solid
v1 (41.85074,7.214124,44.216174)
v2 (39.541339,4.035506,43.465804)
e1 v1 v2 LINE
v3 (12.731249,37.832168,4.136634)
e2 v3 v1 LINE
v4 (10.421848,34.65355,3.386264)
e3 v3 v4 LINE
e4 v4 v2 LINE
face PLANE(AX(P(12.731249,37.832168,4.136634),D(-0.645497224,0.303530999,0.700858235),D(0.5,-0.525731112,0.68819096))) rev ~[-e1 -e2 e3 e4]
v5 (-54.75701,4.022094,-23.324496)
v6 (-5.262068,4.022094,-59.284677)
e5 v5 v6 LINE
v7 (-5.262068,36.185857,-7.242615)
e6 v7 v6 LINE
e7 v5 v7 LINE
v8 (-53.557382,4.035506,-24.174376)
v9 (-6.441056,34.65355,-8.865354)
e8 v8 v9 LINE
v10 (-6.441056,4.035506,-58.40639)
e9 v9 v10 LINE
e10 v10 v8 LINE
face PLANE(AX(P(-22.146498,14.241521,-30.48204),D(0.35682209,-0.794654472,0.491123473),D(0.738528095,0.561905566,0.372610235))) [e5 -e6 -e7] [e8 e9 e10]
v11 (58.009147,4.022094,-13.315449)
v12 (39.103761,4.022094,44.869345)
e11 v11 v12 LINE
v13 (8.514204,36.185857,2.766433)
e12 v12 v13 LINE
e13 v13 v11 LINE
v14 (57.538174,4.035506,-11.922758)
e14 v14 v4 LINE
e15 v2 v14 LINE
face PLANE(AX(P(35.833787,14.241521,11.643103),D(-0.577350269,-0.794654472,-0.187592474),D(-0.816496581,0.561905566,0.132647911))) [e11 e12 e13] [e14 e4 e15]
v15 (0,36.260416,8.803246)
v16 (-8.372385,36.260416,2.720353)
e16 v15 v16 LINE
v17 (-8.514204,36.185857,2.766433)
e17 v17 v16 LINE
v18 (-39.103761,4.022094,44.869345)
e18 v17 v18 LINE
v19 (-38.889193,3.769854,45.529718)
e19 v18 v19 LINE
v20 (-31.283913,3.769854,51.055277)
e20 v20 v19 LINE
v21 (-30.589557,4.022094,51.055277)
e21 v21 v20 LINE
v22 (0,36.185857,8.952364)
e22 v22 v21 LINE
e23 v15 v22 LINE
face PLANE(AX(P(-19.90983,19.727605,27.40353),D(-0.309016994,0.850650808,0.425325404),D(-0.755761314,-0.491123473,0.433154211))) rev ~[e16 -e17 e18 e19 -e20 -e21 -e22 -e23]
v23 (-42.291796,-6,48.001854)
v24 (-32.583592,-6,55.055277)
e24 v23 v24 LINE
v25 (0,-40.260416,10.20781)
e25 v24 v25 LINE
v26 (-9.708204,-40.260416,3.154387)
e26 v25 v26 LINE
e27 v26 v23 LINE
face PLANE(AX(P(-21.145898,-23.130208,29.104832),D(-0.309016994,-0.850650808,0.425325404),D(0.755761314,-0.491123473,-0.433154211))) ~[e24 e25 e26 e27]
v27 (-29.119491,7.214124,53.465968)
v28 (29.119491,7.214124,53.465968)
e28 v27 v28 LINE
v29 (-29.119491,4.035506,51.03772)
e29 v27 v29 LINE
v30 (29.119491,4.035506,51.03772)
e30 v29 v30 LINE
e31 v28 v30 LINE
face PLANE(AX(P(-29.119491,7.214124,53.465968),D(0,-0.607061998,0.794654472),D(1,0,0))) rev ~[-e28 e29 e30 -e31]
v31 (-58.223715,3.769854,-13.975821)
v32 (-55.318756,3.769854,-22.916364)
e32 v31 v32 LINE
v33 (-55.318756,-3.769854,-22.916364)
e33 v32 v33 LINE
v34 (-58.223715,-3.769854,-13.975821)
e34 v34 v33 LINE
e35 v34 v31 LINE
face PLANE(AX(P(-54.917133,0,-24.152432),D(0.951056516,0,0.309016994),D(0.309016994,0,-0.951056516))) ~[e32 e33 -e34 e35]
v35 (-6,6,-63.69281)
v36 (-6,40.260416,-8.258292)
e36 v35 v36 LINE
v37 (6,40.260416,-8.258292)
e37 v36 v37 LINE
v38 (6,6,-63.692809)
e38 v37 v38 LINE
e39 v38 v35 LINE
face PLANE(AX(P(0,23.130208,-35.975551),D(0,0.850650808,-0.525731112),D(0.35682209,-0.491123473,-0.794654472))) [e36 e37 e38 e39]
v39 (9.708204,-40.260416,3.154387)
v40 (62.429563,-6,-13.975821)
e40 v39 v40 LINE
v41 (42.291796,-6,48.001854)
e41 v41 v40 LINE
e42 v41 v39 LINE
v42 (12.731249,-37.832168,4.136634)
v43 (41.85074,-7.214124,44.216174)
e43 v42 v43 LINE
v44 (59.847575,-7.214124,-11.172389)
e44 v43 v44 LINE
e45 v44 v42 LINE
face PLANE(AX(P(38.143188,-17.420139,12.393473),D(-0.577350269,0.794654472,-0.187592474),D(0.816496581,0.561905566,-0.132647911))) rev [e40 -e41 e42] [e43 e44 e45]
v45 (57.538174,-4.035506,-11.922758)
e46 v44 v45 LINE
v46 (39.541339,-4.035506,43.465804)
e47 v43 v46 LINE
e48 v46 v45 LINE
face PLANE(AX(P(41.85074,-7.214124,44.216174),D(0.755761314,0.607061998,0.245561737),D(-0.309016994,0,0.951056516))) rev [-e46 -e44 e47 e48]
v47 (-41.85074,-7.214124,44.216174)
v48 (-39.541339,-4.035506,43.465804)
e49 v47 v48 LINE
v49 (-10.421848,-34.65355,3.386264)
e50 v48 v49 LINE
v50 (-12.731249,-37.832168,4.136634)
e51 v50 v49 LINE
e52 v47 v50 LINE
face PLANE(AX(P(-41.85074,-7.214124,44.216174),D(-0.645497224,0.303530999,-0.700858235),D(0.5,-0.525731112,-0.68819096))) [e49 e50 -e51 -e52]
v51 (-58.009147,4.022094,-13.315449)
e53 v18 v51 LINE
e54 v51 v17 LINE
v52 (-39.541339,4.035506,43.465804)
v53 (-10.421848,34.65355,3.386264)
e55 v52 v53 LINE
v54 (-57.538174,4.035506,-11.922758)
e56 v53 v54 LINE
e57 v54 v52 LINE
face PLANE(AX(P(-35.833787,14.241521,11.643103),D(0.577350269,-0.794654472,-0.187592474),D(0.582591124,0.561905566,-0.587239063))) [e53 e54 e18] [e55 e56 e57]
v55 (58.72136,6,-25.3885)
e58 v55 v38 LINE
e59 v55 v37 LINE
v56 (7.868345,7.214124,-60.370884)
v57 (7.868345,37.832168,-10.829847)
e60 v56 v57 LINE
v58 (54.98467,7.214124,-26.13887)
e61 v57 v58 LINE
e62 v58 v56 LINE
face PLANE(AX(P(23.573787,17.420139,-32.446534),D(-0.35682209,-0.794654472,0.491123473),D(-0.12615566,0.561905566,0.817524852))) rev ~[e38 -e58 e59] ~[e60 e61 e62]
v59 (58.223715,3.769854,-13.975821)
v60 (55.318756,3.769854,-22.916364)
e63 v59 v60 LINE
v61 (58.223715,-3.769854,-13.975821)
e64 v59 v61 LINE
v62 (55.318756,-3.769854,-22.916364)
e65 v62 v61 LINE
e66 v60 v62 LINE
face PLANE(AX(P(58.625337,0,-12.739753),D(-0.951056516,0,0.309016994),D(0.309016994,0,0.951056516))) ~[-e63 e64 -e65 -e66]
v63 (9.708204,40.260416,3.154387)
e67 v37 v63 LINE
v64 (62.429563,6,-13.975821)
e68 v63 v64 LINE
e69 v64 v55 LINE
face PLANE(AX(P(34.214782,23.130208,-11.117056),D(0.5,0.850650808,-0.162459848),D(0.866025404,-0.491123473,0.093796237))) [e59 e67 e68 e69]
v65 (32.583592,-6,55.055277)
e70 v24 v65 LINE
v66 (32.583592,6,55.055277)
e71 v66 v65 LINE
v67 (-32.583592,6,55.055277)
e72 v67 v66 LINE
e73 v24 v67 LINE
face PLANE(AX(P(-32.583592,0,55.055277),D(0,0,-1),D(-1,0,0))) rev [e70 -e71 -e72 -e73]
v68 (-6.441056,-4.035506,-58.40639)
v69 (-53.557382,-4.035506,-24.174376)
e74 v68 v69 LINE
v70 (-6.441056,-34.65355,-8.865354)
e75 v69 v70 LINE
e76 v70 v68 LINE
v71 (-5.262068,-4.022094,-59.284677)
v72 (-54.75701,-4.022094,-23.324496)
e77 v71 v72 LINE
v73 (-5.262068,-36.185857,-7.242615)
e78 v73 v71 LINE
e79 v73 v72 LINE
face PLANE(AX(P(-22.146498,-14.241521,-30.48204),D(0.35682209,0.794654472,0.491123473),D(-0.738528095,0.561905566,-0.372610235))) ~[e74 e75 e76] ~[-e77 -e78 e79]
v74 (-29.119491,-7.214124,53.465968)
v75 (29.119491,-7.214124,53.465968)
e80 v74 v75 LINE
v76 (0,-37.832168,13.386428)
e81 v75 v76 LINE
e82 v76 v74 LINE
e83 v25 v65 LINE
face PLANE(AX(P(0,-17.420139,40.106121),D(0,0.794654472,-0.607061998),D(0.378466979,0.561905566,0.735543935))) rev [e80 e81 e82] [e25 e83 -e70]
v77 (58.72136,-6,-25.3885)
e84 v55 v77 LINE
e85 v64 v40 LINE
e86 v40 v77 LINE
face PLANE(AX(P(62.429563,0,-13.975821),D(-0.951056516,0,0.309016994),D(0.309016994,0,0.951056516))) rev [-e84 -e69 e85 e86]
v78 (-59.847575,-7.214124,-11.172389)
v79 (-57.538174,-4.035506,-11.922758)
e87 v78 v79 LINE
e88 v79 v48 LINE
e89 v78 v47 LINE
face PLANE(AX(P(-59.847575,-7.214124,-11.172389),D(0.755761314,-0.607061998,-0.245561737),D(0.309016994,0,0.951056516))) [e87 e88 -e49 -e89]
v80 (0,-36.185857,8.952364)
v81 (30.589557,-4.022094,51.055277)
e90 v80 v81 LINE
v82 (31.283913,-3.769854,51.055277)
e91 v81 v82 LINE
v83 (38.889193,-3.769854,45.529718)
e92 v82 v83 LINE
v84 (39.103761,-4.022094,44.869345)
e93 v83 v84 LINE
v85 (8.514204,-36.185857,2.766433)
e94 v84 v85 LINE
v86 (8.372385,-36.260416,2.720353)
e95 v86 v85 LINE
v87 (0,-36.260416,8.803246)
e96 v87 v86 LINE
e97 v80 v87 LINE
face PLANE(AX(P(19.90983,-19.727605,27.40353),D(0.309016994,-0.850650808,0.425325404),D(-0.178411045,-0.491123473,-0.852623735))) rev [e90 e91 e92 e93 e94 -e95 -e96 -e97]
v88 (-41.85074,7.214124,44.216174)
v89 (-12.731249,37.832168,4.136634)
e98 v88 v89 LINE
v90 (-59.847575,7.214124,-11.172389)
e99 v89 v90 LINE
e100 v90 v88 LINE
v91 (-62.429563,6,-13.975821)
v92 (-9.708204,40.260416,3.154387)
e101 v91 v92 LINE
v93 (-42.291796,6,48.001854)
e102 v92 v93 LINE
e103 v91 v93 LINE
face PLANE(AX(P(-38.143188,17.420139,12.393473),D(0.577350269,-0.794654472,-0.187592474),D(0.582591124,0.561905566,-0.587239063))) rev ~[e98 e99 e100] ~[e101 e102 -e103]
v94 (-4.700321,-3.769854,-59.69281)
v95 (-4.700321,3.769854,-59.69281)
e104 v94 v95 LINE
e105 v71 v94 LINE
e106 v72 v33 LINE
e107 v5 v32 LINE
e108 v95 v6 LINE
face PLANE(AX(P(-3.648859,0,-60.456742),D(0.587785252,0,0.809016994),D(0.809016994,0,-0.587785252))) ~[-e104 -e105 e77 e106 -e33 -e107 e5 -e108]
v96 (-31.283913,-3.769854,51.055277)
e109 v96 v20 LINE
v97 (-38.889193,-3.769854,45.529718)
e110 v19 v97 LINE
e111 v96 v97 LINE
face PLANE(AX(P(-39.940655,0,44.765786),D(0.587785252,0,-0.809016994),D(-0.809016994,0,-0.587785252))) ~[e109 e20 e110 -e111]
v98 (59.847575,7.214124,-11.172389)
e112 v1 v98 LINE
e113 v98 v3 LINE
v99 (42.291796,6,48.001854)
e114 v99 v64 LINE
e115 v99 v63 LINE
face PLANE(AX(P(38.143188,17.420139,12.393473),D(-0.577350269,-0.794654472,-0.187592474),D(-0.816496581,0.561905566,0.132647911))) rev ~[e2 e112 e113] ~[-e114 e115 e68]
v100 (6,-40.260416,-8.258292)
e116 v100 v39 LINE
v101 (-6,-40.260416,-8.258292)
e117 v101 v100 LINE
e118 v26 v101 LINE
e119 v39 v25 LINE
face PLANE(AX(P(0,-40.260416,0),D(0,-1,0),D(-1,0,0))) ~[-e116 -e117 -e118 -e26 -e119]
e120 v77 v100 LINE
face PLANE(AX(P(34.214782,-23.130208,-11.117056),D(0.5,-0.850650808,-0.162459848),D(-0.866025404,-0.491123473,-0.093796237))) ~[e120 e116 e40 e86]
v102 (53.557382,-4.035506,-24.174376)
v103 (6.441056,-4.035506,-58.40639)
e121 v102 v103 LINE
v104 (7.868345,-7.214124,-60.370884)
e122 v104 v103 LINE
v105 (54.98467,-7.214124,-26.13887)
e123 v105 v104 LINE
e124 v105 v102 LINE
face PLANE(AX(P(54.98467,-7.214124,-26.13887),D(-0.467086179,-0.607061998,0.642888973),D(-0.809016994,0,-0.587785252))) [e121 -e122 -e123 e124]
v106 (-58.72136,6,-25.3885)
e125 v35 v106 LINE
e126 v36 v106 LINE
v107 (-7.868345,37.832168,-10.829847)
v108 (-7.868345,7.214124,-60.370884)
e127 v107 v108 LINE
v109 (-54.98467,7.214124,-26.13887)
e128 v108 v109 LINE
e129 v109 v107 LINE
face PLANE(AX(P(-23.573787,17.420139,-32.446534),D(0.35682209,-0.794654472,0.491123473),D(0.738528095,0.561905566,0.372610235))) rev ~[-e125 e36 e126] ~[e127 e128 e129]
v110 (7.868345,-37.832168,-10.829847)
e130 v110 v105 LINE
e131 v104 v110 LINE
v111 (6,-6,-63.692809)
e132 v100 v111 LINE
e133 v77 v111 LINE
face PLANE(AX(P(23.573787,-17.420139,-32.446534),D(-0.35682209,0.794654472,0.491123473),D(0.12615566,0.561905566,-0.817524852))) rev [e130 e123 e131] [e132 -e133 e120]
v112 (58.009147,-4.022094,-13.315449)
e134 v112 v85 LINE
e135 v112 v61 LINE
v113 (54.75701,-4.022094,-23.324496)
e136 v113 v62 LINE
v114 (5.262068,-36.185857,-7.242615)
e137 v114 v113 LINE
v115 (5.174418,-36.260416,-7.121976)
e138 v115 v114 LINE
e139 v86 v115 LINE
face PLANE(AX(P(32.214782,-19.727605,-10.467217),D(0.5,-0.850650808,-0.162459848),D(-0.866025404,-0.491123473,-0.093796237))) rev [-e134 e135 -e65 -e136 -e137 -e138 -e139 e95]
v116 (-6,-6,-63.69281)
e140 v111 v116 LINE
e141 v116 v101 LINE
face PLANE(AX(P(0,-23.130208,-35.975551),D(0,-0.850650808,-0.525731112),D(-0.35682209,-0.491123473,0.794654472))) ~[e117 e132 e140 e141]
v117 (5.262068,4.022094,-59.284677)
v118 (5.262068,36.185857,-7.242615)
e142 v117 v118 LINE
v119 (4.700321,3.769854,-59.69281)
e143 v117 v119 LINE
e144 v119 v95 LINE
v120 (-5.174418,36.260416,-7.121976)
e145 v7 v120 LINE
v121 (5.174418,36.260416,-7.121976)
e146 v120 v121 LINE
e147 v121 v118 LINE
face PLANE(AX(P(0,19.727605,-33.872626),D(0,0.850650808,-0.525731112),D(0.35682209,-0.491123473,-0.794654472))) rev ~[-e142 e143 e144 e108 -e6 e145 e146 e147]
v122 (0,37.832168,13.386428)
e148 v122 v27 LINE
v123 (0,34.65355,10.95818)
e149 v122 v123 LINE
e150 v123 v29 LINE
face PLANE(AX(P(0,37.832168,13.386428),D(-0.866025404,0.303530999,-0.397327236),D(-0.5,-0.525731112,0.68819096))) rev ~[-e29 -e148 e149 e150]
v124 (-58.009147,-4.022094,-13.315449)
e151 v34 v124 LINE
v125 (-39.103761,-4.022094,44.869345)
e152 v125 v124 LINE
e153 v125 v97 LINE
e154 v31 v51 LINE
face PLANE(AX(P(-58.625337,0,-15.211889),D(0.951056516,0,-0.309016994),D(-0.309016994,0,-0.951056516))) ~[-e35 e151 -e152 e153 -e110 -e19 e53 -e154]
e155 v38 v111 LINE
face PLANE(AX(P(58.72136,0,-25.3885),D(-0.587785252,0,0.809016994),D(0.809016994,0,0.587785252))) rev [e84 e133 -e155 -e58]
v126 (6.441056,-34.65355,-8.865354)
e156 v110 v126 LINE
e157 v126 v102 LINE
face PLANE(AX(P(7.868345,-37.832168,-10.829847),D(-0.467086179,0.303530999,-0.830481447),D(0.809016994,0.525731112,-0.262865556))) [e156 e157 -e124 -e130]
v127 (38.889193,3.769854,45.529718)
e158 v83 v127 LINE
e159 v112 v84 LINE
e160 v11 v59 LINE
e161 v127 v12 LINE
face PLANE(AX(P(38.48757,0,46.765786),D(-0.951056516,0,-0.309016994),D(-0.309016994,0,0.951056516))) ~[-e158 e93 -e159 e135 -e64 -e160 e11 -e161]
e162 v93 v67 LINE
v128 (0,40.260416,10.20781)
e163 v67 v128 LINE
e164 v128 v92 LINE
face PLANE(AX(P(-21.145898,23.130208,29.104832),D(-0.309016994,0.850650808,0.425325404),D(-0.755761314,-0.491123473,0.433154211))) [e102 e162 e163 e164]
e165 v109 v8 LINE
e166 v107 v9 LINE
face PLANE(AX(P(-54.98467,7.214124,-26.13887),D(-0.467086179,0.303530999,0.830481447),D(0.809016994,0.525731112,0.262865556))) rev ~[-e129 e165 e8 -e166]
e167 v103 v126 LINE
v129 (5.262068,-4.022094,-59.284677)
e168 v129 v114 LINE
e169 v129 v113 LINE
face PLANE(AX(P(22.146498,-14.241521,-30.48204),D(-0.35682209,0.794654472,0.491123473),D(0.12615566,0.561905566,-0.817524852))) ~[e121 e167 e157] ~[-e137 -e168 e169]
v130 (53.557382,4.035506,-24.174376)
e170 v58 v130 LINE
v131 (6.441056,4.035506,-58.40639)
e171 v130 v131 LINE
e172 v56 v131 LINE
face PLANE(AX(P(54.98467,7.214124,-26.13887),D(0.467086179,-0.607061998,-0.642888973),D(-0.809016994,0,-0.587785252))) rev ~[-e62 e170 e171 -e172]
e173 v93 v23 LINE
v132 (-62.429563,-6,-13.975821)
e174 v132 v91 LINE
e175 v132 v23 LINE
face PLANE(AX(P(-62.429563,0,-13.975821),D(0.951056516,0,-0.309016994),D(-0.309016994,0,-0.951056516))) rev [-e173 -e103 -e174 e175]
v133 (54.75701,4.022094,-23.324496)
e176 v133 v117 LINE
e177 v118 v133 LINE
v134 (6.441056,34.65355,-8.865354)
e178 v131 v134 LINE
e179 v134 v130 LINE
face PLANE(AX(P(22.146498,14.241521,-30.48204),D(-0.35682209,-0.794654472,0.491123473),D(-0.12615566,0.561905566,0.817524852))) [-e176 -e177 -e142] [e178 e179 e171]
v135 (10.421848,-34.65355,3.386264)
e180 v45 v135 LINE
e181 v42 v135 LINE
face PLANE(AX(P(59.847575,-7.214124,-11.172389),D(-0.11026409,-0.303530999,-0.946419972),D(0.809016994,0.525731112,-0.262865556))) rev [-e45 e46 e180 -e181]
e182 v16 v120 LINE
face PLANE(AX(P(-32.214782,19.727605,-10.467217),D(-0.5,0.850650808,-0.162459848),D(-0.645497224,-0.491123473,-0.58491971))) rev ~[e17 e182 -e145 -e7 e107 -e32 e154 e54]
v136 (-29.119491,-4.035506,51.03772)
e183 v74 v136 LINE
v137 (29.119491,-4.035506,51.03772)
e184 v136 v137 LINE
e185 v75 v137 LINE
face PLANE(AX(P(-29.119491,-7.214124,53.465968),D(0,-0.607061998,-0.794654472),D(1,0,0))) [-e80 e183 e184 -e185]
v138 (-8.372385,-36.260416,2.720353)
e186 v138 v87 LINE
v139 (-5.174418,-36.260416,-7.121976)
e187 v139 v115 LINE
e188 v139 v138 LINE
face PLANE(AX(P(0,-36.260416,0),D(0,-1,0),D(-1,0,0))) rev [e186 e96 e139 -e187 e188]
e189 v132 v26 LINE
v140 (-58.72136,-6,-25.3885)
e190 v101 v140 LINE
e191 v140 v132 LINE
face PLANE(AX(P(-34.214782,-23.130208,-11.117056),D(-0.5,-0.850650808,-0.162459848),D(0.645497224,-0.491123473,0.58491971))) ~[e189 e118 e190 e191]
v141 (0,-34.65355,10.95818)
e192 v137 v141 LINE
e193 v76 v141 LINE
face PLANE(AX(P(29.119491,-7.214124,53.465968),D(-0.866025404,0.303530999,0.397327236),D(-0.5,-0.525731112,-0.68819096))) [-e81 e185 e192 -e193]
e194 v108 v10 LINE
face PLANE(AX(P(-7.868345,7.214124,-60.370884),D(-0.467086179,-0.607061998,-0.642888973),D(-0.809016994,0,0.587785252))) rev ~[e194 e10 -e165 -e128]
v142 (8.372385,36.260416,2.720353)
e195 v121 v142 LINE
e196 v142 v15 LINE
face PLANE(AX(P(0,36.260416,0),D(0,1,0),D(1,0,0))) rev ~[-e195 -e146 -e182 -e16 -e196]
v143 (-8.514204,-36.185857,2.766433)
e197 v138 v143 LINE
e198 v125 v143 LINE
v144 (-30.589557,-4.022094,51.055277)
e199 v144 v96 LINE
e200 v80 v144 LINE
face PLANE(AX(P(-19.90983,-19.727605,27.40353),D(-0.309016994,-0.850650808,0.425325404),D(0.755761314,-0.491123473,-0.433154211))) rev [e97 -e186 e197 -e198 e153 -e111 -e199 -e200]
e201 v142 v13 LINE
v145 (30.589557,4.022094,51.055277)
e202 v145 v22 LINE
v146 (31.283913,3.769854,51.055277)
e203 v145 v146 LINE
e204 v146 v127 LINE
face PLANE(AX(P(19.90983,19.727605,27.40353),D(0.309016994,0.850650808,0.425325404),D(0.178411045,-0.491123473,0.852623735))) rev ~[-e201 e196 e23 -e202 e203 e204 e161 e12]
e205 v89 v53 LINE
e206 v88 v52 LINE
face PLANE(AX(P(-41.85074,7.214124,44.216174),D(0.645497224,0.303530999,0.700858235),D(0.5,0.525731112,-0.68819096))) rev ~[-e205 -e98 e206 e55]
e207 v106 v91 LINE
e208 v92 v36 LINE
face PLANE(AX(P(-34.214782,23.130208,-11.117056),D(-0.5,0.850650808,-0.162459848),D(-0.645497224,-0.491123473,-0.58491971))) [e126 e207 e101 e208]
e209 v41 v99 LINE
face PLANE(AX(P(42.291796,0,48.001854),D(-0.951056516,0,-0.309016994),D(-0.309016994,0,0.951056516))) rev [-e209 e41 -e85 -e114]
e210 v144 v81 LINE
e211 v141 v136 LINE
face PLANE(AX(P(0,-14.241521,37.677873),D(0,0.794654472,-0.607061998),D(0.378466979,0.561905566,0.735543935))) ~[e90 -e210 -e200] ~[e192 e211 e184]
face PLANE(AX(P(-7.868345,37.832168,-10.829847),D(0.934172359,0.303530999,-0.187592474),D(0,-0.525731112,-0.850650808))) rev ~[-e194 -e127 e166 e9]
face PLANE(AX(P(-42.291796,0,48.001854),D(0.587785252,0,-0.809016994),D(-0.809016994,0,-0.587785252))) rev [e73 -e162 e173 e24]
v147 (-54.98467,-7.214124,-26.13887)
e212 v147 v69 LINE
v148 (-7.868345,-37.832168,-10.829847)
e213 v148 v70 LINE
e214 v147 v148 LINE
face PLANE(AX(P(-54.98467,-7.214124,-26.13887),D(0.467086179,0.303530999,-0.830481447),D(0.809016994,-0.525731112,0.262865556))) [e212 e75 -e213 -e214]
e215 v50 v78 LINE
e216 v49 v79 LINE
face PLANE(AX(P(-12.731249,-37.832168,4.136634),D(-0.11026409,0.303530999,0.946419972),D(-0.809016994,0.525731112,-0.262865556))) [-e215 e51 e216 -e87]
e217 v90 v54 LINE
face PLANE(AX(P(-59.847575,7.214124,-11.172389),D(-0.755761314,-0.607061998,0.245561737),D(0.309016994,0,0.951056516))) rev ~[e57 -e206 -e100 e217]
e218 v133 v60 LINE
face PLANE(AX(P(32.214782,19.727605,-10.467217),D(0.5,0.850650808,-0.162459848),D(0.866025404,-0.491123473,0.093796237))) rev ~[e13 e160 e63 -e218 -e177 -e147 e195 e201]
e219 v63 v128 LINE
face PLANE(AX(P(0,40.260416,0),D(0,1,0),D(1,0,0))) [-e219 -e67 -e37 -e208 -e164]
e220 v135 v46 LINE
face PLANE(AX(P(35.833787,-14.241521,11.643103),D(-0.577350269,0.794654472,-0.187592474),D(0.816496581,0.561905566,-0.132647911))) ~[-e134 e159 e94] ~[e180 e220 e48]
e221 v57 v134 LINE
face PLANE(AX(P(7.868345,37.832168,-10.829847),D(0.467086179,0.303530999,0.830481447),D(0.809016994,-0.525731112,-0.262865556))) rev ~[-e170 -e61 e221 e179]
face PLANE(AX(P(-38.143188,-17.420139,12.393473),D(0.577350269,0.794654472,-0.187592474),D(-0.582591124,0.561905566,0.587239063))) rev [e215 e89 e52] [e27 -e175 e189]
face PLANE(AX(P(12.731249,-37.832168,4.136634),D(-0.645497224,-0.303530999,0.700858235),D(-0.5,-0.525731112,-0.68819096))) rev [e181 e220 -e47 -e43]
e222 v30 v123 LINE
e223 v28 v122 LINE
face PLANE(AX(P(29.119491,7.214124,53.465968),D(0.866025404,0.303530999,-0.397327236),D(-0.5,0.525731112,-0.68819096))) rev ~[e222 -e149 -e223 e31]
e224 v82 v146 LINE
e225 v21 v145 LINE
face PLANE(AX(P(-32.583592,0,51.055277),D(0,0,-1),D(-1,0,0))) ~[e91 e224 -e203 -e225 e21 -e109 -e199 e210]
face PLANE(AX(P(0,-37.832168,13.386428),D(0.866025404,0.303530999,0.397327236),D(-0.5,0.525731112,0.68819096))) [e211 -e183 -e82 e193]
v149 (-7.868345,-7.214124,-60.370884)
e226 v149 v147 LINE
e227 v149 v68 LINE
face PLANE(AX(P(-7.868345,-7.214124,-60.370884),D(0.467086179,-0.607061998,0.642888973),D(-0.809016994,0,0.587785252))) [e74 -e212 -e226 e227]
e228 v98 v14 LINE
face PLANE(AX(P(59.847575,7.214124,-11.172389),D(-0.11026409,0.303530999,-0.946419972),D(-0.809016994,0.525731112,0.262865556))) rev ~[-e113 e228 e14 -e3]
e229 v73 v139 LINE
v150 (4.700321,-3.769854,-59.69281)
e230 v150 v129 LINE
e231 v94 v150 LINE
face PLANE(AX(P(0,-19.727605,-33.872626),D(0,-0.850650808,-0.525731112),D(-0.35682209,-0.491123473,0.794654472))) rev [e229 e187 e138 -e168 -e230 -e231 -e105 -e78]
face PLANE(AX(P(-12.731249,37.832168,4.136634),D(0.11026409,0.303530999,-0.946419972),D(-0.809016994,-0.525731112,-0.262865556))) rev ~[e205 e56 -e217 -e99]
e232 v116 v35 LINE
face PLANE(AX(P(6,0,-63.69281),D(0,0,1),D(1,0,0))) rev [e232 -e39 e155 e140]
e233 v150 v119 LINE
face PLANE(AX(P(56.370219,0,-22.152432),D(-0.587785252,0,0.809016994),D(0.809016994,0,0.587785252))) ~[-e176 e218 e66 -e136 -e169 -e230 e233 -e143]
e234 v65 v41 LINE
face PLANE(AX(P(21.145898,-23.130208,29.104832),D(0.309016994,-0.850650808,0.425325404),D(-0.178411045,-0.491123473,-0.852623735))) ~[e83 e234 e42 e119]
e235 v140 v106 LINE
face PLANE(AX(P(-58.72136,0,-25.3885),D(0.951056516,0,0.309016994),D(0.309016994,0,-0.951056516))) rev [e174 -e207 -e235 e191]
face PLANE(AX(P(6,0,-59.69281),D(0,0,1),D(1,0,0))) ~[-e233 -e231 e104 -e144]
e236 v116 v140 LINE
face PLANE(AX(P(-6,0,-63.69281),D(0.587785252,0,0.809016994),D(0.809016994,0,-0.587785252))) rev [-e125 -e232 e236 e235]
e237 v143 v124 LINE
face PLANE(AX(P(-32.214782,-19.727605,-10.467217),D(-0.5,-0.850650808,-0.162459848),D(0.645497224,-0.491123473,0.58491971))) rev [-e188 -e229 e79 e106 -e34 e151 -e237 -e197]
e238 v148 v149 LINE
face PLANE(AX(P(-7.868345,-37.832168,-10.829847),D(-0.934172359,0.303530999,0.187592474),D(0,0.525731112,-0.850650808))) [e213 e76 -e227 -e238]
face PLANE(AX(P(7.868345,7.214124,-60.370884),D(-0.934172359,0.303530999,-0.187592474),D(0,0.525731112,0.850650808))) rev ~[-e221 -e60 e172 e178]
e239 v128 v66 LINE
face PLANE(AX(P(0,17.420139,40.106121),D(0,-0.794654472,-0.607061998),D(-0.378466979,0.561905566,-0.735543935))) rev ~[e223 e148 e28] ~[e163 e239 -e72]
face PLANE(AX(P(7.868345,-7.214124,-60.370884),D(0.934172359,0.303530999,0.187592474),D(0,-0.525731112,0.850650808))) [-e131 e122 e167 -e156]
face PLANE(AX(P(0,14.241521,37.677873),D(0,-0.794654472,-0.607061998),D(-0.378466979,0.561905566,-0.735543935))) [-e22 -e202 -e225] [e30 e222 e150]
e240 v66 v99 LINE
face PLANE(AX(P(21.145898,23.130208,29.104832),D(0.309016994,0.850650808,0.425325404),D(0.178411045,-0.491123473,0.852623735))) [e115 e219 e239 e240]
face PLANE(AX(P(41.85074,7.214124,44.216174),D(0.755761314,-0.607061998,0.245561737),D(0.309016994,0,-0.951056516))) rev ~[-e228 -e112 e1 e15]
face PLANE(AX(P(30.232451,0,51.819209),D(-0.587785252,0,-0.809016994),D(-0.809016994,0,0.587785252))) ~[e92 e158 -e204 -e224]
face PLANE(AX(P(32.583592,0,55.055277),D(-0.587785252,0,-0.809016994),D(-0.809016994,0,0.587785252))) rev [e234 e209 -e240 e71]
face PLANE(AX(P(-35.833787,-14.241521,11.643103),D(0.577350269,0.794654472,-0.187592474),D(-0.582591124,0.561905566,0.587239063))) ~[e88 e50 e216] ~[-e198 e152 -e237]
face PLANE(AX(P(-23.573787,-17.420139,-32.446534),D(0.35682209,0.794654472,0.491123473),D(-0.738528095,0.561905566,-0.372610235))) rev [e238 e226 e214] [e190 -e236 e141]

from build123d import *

# Parameters (mm, degrees)
EXTRUDE_1_DEPTH          = 6
EXTRUDE_2_DEPTH          = 50
EXTRUDE_3_REACH          = 116.36
EXTRUDE_4_REACH          = 109.318
PATTERN_CIRCULAR_1_COUNT = 5
CUT_EXTRUDE_START        = 34.260416
CUT_EXTRUDE_2_DEPTH      = 15.739584
SHELL_2_T                = 4
CUT_EXTRUDE_3_DEPTH      = 4
PATTERN_CIRCULAR_2_COUNT = 5
MIRROR_2_COPY_1_DEPTH    = 4
MIRROR_2_COPY_2_DEPTH    = 4
MIRROR_2_COPY_3_DEPTH    = 4
MIRROR_2_COPY_4_DEPTH    = 4


with BuildPart() as part:
    # 草图1 → 凸台-拉伸1 (new body)
    with BuildSketch(Plane(origin=(0, 0, 0), x_dir=(1, 0, 0), z_dir=(0, 1, 0))):
        Polygon((6, 63.6928095), (-6, 63.6928095), (-58.72135955, 25.388499653), (-62.429563482, 13.975821457), (-42.291796068, -48.001853791), (-32.583592135, -55.055276819), (32.583592135, -55.055276819), (42.291796068, -48.001853791), (62.429563482, 13.975821457), (58.72135955, 25.388499653), align=None)
    extrude(amount=EXTRUDE_1_DEPTH)

    # 草图2 → 凸台-拉伸2 (add)
    with BuildSketch(Plane(origin=(0, 6, 0), x_dir=(1, 0, 0), z_dir=(0, 1, 0))):
        Polygon((-6, 8.258291523), (-9.708203932, -3.154386673), (0, -10.2078097), (9.708203932, -3.154386673), (6, 8.258291523), align=None)
    extrude(amount=EXTRUDE_2_DEPTH)

    # 草图3 → 凸台-拉伸3 (add, up to next)
    with BuildSketch(Plane(origin=(22.048945114, 30.347769421, 7.164136549), x_dir=(-0.8164965809277247, 0.5619055660577269, 0.1326479105251229), z_dir=(-0.5773502691896276, -0.7946544722917646, -0.18759247408508062)), mode=Mode.PRIVATE) as extrude_3_sk1:
        Polygon((-49.45595525, 14.980471634), (-24.792327887, -45.339238172), (15.114259472, 6.179944577), align=None)
    extrude_3_tool1 = extrude(extrude_3_sk1.sketch, amount=EXTRUDE_3_REACH, mode=Mode.PRIVATE) - part.part
    extrude_3 = extrude_3_tool1.solids().sort_by_distance((38.143188, 17.420139, 12.393473))[0]
    add(extrude_3)

    # 草图5 → 凸台-拉伸4 (add, up to next)
    with BuildSketch(Plane(origin=(19.294598211, 32.825931131, -6.26919499), x_dir=(0.8660254037844378, -0.49112347318842436, 0.09379623704254153), z_dir=(0.5000000000000017, 0.8506508083520388, -0.16245984811645525)), mode=Mode.PRIVATE) as extrude_4_sk1:
        Polygon((-11.069414635, -10.650937771), (49.807967622, 12.602153105), (45.526102544, 23.812221413), (-15.351279712, 0.559130537), align=None)
    extrude_4_tool1 = extrude(extrude_4_sk1.sketch, amount=-EXTRUDE_4_REACH, mode=Mode.PRIVATE) - part.part
    extrude_4 = extrude_4_tool1.solids().sort_by_distance((34.214782, 23.130208, -11.117056))[0]
    add(extrude_4)

    # 阵列(圆周)1: 凸台-拉伸3, 凸台-拉伸4 ×5 about axis
    pattern_circular_1_axis = Axis((0, 0, 0), (0, 1, 0))
    add([extrude_3.rotate(pattern_circular_1_axis, i * 360 / PATTERN_CIRCULAR_1_COUNT) for i in range(1, PATTERN_CIRCULAR_1_COUNT)])
    add([extrude_4.rotate(pattern_circular_1_axis, i * 360 / PATTERN_CIRCULAR_1_COUNT) for i in range(1, PATTERN_CIRCULAR_1_COUNT)])

    # 草图2<2> → 切除-拉伸2 (cut)
    with BuildSketch(Plane(origin=(0, 6, 0), x_dir=(1, 0, 0), z_dir=(0, 1, 0)).offset(CUT_EXTRUDE_START)):
        Polygon((-6, 8.258291523), (-9.708203932, -3.154386673), (0, -10.2078097), (9.708203932, -3.154386673), (6, 8.258291523), align=None)
    extrude(amount=CUT_EXTRUDE_2_DEPTH, mode=Mode.SUBTRACT)

    # 镜向1: part across plane


with BuildPart() as part_1:
    add(part.part)
    add(part.part.mirror(Plane.ZX))

    # 抽壳2 (no face opened: a closed hollow body)
    add(offset(amount=-SHELL_2_T, mode=Mode.PRIVATE), mode=Mode.SUBTRACT)

    # 草图6 → 切除-拉伸3 (cut)
    with BuildSketch(Plane(origin=(22.048945114, 30.347769421, 7.164136549), x_dir=(0.8164965809277248, -0.5619055660577268, -0.13264791052512276), z_dir=(0.5773502691896275, 0.7946544722917647, 0.18759247408508056))):
        Polygon((-11.411800298, 4.66607666), (24.252146374, -41.375880513), (46.29367759, 12.530981891), align=None)
    cut_extrude_3 = extrude(amount=-CUT_EXTRUDE_3_DEPTH, mode=Mode.SUBTRACT)

    # 阵列(圆周)2: 切除-拉伸3 ×5 about axis
    pattern_circular_2_axis = Axis((0, 0, 0), (0, 1, 0))
    for i in range(1, PATTERN_CIRCULAR_2_COUNT):
        add(cut_extrude_3.rotate(pattern_circular_2_axis, i * 360 / PATTERN_CIRCULAR_2_COUNT), mode=Mode.SUBTRACT)

    # 镜向2: 切除-拉伸3 across plane
    add(cut_extrude_3.mirror(Plane.ZX), mode=Mode.SUBTRACT)

    # 镜向2 copy 1 sketch → 镜向2 copy 1 (cut)
    with BuildSketch(Plane(origin=(13.626997497, -30.347769421, -18.755952985), x_dir=(0.12615565967785208, 0.5619055660577268, -0.8175248524446163), z_dir=(0.3568220897730911, -0.7946544722917647, -0.4911234731884244))):
        Polygon((-11.411800298, -4.66607666), (24.252146374, 41.375880513), (46.29367759, -12.530981891), align=None)
    extrude(amount=-MIRROR_2_COPY_1_DEPTH, mode=Mode.SUBTRACT)

    # 镜向2 copy 2 sketch → 镜向2 copy 2 (cut)
    with BuildSketch(Plane(origin=(-13.626997497, -30.347769421, -18.755952985), x_dir=(-0.7385280953736475, 0.5619055660577268, -0.37261023493339274), z_dir=(-0.3568220897730909, -0.7946544722917647, -0.49112347318842464))):
        Polygon((-11.411800298, -4.66607666), (24.252146374, 41.375880513), (46.29367759, -12.530981891), align=None)
    extrude(amount=-MIRROR_2_COPY_2_DEPTH, mode=Mode.SUBTRACT)

    # 镜向2 copy 3 sketch → 镜向2 copy 3 (cut)
    with BuildSketch(Plane(origin=(-22.048945114, -30.347769421, 7.164136549), x_dir=(-0.5825911242654904, 0.5619055660577267, 0.5872390626996962), z_dir=(-0.5773502691896276, -0.7946544722917646, 0.18759247408508029))):
        Polygon((-11.411800298, -4.66607666), (24.252146374, 41.375880513), (46.29367759, -12.530981891), align=None)
    extrude(amount=-MIRROR_2_COPY_3_DEPTH, mode=Mode.SUBTRACT)

    # 镜向2 copy 4 sketch → 镜向2 copy 4 (cut)
    with BuildSketch(Plane(origin=(0, -30.347769421, 23.183632872), x_dir=(0.37846697903356086, 0.5619055660577268, 0.7355439352034356), z_dir=(0, -0.7946544722917647, 0.6070619982066882))):
        Polygon((-11.411800298, -4.66607666), (24.252146374, 41.375880513), (46.29367759, -12.530981891), align=None)
    extrude(amount=-MIRROR_2_COPY_4_DEPTH, mode=Mode.SUBTRACT)


solid = part_1.part
